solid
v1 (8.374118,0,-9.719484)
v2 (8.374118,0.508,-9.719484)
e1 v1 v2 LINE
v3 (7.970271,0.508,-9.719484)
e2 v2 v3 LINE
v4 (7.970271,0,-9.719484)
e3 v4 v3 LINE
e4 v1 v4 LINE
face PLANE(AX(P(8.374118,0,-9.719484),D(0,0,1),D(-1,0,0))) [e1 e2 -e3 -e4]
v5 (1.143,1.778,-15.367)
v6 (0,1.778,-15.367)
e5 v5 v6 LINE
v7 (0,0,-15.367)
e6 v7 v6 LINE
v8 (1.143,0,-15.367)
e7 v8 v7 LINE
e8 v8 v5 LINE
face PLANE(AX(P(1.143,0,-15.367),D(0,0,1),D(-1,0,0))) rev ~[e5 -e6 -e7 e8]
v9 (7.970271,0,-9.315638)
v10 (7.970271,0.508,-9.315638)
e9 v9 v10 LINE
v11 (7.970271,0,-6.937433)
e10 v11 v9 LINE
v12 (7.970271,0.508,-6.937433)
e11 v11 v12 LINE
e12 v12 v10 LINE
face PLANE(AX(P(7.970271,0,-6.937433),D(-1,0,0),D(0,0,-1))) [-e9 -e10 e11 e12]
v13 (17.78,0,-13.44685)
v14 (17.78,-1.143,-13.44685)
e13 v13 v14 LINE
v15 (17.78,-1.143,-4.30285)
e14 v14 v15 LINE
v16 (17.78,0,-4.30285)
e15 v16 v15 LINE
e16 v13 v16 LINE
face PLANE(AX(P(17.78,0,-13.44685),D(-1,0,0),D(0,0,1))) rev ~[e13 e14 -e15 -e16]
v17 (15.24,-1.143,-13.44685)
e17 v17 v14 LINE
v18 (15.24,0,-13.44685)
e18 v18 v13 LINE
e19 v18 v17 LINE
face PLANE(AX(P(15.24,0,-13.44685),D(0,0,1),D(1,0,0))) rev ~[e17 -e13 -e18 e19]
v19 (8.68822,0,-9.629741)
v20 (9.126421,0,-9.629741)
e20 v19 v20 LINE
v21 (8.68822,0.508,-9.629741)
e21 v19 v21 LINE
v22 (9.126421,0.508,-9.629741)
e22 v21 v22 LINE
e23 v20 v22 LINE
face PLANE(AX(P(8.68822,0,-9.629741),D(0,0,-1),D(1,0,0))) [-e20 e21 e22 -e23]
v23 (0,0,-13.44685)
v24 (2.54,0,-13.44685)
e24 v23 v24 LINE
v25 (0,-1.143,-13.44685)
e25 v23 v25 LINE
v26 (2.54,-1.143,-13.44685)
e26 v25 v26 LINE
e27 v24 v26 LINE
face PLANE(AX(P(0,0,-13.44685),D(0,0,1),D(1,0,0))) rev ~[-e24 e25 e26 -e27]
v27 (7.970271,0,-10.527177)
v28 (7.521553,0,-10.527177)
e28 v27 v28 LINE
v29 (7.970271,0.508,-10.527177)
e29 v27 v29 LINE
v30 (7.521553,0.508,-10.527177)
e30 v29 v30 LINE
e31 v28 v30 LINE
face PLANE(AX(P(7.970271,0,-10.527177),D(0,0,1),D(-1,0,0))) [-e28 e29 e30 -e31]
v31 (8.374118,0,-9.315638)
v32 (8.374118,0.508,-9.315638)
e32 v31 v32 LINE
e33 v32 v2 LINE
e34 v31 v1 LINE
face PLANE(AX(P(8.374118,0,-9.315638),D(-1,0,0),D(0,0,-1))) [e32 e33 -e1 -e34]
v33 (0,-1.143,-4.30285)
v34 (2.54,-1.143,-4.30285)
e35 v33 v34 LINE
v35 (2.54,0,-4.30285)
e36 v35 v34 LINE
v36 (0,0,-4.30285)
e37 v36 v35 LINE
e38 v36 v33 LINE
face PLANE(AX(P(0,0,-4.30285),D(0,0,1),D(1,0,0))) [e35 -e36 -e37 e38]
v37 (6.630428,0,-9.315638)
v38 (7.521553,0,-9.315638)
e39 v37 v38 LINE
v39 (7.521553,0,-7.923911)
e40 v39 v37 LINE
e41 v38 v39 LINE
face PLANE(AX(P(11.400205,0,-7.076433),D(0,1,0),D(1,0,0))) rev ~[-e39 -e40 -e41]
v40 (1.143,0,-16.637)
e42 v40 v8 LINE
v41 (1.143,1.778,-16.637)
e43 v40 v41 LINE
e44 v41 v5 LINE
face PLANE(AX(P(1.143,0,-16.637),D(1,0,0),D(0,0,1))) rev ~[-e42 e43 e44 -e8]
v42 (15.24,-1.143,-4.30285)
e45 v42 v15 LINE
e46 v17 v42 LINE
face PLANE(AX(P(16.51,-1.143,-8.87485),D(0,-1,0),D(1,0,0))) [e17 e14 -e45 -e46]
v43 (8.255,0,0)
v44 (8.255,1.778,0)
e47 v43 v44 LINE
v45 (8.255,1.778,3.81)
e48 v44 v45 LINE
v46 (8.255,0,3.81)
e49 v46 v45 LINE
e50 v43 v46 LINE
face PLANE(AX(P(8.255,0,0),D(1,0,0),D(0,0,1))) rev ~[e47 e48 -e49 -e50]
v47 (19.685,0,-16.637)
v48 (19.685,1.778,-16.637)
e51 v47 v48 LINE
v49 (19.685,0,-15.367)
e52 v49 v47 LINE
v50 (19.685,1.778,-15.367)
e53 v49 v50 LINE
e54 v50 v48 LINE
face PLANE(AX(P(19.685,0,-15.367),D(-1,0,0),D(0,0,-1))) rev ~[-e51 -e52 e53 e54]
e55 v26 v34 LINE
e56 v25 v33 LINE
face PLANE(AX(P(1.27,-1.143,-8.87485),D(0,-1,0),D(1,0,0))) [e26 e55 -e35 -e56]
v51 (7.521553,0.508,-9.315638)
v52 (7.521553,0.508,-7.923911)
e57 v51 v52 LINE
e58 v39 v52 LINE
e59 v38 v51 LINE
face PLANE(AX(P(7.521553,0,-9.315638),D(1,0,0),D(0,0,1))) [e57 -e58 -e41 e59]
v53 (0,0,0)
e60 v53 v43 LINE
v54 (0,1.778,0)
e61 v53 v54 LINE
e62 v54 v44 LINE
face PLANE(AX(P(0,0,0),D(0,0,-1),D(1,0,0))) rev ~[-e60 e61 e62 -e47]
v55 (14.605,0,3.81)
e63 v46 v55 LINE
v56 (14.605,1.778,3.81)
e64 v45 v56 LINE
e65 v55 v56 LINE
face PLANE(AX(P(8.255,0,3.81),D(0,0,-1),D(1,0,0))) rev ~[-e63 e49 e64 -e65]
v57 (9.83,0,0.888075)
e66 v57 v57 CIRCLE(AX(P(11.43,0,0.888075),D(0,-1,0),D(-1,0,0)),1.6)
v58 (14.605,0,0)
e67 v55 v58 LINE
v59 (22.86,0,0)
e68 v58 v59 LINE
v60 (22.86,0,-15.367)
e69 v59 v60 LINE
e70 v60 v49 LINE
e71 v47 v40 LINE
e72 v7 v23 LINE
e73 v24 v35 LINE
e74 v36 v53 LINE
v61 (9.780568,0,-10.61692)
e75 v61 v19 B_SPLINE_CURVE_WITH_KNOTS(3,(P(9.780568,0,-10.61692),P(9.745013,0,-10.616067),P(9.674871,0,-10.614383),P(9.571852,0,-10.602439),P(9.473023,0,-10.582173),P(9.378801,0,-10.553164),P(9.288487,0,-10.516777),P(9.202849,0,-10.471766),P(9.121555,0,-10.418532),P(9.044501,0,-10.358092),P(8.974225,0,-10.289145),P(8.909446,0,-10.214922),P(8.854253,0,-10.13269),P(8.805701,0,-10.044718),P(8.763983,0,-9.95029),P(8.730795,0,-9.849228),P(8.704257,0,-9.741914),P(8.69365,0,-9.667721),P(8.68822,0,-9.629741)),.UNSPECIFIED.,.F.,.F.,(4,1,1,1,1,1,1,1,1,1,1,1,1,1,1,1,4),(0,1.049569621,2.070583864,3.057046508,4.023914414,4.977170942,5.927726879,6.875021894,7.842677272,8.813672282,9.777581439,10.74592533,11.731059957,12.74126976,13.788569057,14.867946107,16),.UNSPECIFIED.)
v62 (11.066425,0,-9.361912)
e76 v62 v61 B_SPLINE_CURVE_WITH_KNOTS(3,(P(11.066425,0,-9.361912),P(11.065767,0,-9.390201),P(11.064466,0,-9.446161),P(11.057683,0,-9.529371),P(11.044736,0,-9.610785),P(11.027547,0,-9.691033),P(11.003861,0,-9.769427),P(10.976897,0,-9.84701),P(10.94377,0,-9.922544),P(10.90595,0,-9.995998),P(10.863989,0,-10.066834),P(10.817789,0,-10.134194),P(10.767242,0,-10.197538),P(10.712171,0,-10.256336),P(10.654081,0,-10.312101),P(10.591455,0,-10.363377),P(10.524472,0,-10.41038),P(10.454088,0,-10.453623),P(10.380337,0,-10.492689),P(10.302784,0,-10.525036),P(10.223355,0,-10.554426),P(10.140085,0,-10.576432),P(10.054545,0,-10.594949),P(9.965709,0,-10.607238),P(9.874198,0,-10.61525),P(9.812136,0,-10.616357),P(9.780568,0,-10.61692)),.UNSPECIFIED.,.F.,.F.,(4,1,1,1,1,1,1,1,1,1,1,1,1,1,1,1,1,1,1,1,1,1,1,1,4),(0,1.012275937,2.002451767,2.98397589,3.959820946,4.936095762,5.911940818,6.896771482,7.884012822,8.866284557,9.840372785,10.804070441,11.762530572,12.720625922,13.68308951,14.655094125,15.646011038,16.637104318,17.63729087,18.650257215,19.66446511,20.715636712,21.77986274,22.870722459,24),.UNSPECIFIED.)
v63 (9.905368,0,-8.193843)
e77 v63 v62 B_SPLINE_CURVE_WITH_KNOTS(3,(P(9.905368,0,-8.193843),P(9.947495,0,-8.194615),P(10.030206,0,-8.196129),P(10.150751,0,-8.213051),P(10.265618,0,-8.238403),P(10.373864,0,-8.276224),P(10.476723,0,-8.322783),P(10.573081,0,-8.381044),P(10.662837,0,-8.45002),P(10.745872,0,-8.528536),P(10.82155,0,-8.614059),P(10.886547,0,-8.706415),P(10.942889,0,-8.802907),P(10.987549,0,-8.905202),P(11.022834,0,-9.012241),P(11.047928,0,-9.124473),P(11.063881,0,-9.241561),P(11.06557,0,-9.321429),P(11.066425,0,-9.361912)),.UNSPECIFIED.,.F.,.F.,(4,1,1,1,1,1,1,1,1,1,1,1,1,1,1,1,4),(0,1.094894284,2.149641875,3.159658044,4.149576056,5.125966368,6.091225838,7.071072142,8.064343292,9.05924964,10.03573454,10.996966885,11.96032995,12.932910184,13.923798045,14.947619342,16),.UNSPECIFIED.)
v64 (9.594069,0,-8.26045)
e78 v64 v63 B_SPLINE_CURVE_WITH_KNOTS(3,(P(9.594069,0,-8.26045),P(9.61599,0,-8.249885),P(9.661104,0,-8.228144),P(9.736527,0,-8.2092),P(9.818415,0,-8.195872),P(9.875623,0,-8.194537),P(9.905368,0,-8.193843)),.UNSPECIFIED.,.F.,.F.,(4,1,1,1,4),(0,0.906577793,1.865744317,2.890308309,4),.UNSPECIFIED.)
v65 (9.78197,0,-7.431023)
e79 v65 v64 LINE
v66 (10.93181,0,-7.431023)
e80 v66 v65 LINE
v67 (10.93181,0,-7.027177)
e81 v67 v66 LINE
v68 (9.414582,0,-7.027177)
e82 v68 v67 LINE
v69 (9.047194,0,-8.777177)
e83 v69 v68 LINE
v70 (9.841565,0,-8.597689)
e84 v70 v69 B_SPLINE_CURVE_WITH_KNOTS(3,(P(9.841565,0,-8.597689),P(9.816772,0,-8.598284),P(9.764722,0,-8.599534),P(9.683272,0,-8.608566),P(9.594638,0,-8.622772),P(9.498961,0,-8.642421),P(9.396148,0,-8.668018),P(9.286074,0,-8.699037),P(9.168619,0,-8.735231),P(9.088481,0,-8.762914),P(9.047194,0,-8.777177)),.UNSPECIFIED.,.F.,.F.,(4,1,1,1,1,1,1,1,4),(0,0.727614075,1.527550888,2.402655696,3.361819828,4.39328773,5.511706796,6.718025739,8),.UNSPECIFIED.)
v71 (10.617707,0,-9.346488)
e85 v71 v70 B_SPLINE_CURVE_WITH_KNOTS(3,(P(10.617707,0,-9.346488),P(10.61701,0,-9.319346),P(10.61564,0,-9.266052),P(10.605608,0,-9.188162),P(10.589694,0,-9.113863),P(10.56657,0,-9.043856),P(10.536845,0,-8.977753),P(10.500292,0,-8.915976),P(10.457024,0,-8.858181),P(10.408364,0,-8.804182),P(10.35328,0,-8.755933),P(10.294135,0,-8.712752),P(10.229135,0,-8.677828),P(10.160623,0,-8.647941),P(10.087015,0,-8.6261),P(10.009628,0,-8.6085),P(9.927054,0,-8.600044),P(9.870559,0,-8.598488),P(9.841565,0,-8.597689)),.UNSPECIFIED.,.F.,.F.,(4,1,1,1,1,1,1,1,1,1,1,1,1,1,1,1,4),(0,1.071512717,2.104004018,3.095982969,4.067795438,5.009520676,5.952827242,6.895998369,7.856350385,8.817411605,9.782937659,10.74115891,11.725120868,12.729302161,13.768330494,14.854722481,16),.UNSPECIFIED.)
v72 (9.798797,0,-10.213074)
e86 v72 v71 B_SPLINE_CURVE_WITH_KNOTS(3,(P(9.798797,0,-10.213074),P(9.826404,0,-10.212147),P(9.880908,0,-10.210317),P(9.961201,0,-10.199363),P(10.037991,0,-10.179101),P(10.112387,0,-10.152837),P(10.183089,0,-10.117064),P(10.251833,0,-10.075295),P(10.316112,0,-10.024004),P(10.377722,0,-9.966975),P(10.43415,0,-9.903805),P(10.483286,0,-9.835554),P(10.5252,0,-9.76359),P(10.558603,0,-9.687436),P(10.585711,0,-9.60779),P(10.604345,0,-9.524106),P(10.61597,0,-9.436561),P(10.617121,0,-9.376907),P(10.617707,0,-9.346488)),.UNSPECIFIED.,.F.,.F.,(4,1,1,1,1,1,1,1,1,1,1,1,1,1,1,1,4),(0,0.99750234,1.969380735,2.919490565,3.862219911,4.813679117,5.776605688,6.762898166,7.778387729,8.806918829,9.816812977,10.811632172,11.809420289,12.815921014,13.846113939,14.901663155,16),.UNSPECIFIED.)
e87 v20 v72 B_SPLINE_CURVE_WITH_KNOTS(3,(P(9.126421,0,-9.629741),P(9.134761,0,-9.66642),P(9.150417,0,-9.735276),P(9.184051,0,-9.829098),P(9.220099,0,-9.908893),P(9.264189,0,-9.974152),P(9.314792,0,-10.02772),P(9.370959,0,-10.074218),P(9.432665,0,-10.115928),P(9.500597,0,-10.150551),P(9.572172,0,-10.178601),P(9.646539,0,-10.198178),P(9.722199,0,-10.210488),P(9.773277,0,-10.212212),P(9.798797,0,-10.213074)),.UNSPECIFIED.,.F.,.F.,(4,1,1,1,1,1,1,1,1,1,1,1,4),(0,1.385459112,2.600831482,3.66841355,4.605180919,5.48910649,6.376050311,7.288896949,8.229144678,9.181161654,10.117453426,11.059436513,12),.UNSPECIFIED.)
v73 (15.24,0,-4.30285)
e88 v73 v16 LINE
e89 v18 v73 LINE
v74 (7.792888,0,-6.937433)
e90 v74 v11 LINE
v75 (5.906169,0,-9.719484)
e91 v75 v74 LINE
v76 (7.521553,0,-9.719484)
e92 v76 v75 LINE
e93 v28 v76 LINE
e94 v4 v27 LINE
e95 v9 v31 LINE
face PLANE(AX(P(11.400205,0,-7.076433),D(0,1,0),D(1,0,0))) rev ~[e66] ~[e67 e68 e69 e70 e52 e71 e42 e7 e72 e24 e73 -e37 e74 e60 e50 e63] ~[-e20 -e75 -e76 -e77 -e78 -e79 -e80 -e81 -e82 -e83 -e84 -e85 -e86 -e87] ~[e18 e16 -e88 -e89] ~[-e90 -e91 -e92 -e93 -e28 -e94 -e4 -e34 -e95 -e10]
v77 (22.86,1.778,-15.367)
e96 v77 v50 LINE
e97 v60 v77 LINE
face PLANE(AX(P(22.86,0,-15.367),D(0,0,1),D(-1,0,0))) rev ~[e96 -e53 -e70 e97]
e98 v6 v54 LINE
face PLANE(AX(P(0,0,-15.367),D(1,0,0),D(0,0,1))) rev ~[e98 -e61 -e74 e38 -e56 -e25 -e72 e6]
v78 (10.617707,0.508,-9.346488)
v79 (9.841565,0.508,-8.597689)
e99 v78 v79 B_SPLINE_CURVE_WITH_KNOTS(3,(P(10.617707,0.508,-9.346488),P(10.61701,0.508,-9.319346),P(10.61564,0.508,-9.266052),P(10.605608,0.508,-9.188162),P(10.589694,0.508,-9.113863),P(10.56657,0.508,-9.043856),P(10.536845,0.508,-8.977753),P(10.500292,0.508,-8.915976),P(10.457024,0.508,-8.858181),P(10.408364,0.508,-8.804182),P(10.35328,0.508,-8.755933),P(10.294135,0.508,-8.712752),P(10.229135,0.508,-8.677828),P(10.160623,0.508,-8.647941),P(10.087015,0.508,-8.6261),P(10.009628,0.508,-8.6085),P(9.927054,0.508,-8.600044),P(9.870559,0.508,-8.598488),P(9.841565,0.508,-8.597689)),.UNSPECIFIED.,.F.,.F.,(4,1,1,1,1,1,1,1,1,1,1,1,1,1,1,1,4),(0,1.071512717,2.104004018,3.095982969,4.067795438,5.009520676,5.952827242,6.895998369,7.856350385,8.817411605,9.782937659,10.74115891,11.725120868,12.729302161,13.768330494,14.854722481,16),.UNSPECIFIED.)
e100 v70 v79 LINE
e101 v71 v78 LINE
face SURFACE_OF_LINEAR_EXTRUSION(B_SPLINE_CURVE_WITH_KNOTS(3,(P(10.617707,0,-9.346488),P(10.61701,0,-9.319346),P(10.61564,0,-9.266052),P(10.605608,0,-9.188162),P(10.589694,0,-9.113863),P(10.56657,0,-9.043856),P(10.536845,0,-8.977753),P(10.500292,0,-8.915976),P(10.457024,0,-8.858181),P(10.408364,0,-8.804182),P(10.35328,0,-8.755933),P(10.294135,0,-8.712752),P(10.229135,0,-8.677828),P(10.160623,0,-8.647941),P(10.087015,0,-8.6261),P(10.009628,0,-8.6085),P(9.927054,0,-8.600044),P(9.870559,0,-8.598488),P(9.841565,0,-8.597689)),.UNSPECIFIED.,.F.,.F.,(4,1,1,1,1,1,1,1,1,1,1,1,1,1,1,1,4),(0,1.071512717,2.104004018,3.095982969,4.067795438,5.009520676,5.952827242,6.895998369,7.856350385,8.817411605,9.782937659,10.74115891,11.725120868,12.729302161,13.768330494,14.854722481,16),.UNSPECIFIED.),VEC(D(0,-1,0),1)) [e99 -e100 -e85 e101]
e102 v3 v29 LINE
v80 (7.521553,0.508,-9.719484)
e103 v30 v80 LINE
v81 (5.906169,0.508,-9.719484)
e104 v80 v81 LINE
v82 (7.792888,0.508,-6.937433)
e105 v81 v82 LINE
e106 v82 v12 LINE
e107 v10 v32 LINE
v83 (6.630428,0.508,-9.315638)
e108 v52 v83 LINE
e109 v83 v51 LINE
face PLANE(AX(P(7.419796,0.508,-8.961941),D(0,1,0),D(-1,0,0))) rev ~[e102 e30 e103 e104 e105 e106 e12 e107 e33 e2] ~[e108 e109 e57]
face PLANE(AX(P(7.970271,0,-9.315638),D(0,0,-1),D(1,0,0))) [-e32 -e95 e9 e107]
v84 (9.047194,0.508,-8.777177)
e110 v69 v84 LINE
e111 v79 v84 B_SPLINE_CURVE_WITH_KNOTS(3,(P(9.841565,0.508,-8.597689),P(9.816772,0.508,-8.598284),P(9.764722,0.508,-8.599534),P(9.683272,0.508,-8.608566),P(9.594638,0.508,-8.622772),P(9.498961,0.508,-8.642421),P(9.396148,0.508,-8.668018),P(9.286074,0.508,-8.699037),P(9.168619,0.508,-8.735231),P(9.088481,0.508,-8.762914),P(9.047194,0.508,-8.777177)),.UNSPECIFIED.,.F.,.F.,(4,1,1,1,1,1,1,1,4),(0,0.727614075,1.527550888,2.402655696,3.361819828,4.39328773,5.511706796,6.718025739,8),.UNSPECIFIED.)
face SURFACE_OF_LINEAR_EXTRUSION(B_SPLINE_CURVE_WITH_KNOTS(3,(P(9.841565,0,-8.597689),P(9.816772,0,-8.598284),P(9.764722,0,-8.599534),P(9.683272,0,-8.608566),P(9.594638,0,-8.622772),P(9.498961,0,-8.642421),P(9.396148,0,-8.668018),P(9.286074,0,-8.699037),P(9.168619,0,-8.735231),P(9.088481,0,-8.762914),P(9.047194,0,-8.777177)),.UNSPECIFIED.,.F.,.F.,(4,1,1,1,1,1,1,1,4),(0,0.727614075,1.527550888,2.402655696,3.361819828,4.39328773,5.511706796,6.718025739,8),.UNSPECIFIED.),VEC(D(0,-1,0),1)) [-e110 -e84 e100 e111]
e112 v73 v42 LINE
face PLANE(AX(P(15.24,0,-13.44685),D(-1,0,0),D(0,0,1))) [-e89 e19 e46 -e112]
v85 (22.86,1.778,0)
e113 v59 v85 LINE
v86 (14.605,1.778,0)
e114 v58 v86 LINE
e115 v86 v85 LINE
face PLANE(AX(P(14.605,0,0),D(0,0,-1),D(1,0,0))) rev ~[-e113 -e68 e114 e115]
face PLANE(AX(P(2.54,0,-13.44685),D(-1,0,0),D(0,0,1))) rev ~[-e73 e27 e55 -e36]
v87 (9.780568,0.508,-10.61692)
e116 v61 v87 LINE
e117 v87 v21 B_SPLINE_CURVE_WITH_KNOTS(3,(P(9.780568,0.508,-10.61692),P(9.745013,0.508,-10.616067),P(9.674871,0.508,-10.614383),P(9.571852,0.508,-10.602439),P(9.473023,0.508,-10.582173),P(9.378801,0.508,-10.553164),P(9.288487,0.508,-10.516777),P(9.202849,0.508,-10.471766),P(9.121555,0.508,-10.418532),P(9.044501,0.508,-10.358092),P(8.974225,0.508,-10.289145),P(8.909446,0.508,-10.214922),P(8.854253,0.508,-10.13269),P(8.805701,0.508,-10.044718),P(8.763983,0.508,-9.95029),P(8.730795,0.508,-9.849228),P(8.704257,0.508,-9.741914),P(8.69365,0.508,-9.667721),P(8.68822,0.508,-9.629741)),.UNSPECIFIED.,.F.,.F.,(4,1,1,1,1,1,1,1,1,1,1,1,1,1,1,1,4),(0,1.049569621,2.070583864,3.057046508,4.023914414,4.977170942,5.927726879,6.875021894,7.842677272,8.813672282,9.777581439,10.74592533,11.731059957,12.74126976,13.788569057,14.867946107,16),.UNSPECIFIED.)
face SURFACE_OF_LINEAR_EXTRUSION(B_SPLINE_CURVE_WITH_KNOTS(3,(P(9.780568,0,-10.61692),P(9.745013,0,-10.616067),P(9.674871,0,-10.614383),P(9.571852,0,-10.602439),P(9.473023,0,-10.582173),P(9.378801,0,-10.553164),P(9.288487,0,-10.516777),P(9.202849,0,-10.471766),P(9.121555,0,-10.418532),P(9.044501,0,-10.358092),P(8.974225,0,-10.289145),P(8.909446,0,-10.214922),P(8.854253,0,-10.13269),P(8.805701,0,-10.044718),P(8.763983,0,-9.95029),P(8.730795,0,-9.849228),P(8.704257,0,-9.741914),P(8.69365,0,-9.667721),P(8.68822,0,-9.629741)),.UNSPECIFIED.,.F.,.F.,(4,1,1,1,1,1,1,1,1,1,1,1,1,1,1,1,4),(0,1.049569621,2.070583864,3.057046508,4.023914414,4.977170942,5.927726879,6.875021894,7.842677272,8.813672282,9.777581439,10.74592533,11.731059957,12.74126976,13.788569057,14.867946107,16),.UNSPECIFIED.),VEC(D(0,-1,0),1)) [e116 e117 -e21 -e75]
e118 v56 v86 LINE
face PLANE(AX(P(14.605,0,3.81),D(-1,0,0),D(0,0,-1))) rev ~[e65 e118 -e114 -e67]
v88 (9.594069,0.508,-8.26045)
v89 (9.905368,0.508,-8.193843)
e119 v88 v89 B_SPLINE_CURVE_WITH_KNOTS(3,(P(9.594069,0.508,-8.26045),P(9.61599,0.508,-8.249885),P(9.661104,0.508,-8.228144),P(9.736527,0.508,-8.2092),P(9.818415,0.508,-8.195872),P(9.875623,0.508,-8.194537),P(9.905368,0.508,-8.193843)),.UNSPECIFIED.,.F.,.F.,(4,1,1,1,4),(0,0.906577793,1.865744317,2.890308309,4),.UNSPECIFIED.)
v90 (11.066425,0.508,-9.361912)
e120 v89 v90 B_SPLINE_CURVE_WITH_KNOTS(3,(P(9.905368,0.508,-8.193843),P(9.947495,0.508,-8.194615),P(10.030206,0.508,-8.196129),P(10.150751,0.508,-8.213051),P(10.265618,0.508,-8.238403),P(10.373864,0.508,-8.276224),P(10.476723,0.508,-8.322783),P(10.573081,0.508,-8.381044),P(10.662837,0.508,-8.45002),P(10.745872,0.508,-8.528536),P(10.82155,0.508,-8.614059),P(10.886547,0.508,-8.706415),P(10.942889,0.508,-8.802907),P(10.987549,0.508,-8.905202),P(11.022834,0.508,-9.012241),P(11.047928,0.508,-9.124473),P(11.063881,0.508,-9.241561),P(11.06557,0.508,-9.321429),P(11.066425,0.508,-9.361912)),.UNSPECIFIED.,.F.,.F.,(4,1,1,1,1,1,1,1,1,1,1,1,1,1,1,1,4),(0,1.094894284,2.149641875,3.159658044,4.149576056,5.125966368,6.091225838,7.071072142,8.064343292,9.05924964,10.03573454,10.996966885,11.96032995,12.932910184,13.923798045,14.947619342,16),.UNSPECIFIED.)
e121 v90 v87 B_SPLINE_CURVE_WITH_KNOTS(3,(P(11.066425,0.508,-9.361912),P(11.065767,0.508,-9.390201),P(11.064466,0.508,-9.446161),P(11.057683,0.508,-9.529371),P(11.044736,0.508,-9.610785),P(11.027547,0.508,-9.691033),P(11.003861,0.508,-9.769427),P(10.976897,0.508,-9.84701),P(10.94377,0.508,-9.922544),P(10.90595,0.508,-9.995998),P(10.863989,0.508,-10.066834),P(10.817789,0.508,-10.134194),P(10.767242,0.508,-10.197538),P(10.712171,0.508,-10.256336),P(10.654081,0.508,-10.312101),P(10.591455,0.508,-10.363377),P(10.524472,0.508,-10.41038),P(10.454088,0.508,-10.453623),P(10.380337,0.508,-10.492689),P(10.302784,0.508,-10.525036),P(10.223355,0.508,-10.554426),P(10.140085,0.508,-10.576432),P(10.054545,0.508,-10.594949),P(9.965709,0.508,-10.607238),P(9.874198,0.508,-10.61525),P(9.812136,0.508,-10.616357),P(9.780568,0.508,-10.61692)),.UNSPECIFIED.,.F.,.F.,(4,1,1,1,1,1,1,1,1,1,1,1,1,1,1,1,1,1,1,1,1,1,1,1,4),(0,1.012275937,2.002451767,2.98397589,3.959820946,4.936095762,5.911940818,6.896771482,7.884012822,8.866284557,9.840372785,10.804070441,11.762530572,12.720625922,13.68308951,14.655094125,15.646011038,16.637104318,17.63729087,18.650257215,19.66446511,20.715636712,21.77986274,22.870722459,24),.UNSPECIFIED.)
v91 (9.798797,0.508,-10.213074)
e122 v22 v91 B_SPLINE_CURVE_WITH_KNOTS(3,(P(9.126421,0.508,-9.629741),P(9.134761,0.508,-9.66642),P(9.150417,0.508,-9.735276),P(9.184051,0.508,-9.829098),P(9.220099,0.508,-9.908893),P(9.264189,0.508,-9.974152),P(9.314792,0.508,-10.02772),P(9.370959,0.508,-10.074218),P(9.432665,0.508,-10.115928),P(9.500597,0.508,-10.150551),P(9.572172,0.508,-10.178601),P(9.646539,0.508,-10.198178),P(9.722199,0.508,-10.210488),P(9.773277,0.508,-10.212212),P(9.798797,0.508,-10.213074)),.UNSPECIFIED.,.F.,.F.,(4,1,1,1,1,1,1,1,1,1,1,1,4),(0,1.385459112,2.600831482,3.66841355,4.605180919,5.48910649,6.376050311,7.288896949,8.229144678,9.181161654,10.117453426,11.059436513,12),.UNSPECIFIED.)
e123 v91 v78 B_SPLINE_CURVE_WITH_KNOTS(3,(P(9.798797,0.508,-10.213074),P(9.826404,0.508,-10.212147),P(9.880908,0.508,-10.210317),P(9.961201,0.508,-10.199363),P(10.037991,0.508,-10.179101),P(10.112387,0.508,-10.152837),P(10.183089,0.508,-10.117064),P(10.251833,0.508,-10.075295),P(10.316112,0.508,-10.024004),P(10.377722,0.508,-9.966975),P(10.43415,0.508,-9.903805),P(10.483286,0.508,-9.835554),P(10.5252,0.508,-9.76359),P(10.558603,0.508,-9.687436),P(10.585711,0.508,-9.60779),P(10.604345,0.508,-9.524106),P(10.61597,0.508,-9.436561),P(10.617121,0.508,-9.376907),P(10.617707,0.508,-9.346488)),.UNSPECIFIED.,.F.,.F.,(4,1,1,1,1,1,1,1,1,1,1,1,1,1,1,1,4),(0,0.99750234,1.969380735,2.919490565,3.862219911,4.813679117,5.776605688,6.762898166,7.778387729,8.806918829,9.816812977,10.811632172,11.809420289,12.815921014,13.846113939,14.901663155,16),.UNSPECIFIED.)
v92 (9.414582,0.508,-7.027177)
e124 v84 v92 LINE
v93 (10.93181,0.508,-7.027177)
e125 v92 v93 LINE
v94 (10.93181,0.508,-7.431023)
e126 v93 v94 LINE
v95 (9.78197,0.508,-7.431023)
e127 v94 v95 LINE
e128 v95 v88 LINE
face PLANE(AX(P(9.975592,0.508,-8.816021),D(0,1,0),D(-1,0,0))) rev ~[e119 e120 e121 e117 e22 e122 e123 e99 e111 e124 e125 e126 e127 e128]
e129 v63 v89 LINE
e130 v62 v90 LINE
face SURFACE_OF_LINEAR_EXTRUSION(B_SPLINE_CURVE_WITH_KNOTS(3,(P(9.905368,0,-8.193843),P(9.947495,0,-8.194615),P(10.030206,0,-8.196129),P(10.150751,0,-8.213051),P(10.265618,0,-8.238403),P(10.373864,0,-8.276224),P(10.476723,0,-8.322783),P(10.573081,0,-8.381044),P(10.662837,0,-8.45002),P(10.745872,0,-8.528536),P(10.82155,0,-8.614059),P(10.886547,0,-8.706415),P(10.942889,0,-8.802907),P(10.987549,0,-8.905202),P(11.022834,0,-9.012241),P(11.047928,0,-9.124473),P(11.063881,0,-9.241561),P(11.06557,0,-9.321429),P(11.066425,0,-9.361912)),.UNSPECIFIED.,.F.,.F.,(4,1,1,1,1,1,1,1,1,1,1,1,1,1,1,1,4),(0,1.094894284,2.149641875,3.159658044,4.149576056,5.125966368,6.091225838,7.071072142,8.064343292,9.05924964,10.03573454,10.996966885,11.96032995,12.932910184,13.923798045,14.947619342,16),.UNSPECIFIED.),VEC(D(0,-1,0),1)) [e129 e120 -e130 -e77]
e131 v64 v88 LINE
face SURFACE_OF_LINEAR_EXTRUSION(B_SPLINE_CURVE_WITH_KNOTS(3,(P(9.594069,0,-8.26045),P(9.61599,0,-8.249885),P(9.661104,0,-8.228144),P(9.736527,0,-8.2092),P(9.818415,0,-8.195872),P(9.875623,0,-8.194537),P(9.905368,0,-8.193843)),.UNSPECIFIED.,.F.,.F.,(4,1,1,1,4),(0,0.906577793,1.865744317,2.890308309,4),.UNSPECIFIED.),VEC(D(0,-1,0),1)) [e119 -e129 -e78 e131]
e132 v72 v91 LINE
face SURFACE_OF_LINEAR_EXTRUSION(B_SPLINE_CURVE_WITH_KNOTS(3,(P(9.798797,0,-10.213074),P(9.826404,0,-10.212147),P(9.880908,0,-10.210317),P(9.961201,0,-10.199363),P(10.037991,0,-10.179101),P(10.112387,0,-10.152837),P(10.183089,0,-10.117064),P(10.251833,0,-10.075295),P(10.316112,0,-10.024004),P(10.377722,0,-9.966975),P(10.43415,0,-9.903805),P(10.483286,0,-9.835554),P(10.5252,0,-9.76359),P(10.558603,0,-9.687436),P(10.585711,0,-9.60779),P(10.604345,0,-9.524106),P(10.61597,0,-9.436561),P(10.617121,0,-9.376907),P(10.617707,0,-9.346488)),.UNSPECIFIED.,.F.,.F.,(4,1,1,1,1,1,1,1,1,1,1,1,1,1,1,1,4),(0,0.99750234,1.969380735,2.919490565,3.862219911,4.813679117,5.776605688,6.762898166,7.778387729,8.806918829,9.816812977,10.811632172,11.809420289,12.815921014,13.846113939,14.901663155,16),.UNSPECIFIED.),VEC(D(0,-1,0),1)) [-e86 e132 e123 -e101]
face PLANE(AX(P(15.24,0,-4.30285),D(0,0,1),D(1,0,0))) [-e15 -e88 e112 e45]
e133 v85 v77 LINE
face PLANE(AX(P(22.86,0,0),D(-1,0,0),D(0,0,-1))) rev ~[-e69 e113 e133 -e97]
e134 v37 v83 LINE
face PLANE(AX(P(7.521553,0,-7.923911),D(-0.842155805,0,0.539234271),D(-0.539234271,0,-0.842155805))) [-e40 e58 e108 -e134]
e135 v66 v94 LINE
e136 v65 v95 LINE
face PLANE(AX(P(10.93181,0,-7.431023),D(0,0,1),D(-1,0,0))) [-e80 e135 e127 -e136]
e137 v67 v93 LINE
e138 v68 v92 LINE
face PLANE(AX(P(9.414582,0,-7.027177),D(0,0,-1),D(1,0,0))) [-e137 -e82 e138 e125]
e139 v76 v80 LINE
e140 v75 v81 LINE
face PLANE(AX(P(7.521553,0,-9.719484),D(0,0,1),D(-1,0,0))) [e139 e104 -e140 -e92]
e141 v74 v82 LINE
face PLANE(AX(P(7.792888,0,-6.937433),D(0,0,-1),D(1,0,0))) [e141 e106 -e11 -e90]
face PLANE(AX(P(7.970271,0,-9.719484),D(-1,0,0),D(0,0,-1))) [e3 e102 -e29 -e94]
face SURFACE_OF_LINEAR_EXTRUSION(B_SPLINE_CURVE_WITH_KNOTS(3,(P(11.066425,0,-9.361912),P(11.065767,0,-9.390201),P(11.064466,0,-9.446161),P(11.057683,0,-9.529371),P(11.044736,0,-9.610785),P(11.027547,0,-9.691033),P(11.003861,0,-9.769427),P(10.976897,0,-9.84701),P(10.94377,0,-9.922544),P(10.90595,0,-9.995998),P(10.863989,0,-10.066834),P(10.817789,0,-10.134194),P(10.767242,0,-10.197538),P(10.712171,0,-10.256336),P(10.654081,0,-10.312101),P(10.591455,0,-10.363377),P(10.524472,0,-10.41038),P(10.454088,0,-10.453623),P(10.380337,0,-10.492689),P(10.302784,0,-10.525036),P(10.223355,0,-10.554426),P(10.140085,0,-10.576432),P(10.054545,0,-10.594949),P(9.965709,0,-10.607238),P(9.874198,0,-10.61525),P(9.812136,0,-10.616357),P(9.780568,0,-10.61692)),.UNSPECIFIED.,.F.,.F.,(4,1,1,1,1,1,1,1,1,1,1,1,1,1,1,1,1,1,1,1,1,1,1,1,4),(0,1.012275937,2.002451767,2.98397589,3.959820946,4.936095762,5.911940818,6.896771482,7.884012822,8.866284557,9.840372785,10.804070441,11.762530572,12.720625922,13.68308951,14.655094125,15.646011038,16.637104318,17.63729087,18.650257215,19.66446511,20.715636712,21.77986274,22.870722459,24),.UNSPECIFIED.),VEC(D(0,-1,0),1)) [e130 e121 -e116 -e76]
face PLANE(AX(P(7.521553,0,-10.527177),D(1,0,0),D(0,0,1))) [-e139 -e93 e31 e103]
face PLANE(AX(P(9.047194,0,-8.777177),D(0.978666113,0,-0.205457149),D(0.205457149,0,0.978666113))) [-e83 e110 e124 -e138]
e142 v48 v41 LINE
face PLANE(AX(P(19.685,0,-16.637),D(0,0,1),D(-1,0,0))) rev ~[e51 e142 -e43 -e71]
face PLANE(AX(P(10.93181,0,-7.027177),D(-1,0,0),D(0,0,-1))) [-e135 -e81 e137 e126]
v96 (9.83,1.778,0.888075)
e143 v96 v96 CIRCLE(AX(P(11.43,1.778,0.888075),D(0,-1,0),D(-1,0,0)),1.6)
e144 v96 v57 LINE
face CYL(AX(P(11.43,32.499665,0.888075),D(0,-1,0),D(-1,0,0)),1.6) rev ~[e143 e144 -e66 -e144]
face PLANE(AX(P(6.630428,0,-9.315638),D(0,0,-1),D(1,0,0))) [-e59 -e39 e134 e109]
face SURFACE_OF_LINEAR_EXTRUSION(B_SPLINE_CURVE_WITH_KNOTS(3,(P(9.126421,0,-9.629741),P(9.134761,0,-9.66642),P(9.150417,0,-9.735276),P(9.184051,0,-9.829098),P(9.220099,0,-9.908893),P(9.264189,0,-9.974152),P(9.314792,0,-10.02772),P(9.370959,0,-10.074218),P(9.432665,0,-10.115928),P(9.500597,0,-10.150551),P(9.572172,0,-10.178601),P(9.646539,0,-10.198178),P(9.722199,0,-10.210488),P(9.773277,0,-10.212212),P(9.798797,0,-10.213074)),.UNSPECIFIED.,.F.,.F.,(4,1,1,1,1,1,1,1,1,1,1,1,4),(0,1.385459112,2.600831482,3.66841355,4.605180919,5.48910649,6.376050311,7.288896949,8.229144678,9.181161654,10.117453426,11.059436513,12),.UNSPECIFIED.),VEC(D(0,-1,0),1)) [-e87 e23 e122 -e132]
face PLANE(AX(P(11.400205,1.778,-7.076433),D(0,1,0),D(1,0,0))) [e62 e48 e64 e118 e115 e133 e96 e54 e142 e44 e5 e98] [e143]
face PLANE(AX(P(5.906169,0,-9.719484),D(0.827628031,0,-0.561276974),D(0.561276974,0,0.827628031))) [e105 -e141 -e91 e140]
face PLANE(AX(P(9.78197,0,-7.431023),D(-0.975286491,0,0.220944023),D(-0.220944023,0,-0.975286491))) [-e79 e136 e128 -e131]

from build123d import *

# Parameters (mm, degrees)
BOSS_EXTRUDE1_DEPTH  = 1.778
M3_CLEARANCE_HOLE1_D = 3.2
SKETCH4_W            = 2.54
SKETCH4_H            = 9.144
BOSS_EXTRUDE2_DEPTH  = 1.143
CUT_EXTRUDE1_DEPTH   = 0.508


with BuildPart() as part:
    # Sketch1 → Boss-Extrude1 (new body)
    with BuildSketch(Plane(origin=(0, 0, 0), x_dir=(1, 0, 0), z_dir=(0, 1, 0))):
        Polygon((0, 15.367), (0, 0), (8.255, 0), (8.255, -3.81), (14.605, -3.81), (14.605, 0), (22.86, 0), (22.86, 15.367), (19.685, 15.367), (19.685, 16.637), (1.143, 16.637), (1.143, 15.367), align=None)
    extrude(amount=BOSS_EXTRUDE1_DEPTH)

    # M3 Clearance Hole1 (through all)
    with Locations(Plane(origin=(0, 1.778, 0), x_dir=(1, 0, 0), z_dir=(0, 1, 0))):
        with Locations((11.43, -0.888075369)):
            Hole(M3_CLEARANCE_HOLE1_D / 2)

    # Sketch4 → Boss-Extrude2 (add)
    with BuildSketch(Plane.XZ):
        with Locations((16.51, -8.874849992)):
            Rectangle(SKETCH4_W, SKETCH4_H)
        with Locations((1.27, -8.874849992)):
            Rectangle(SKETCH4_W, SKETCH4_H)
    extrude(amount=BOSS_EXTRUDE2_DEPTH)

    # Sketch6 → Cut-Extrude1 (cut)
    # profile 1 of 2: a face of its own
    with BuildSketch(Plane.XZ):
        Polygon((7.792887548, -6.937433067), (7.970271363, -6.937433067), (7.970271363, -9.315638195), (8.374117516, -9.315638195), (8.374117516, -9.719484349), (7.970271363, -9.719484349), (7.970271363, -10.527176657), (7.521553414, -10.527176657), (7.521553414, -9.719484349), (5.906168798, -9.719484349), align=None)
        Polygon((7.521553414, -9.315638195), (7.521553414, -7.923911433), (6.630427613, -9.315638195), align=None, mode=Mode.SUBTRACT)
    # profile 2 of 2: a face of its own
    with BuildSketch(Plane.XZ):
        with BuildLine():
            Line((10.931809824, -7.027176657), (10.931809824, -7.431022811))
            Line((10.931809824, -7.431022811), (9.78197008, -7.431022811))
            Line((9.78197008, -7.431022811), (9.594069439, -8.260449894))
            add(Edge.make_bspline(
                [(9.594069439, -8.260449894), (9.615990404, -8.249885481), (9.661103923, -8.228143835), (9.736526874, -8.209200238), (9.818414717, -8.195871542), (9.875622645, -8.194537138), (9.905367516, -8.193843324)],
                knots=[0, 0, 0, 0, 0.906577793, 1.865744317, 2.890308309, 4, 4, 4, 4], degree=3))
            add(Edge.make_bspline(
                [(9.905367516, -8.193843324), (9.947495326, -8.194614643), (10.030206236, -8.196129001), (10.150750761, -8.213051384), (10.265618253, -8.23840338), (10.373863762, -8.27622385), (10.476723422, -8.322782641), (10.573081318, -8.381044204), (10.66283737, -8.450020231), (10.745871527, -8.528536241), (10.821549898, -8.614059011), (10.886547349, -8.706415291), (10.942889062, -8.802907042), (10.98754851, -8.905201736), (11.022834099, -9.012241242), (11.047928323, -9.124472926), (11.063881421, -9.241560513), (11.065569539, -9.321428782), (11.066425209, -9.361912234)],
                knots=[0, 0, 0, 0, 1.094894284, 2.149641875, 3.159658044, 4.149576056, 5.125966368, 6.091225838, 7.071072142, 8.064343292, 9.05924964, 10.03573454, 10.996966885, 11.96032995, 12.932910184, 13.923798045, 14.947619342, 16, 16, 16, 16], degree=3))
            add(Edge.make_bspline(
                [(11.066425209, -9.361912234), (11.06576722, -9.390201132), (11.064465608, -9.446161323), (11.057683043, -9.529370503), (11.044736374, -9.610784817), (11.027546624, -9.691033112), (11.003860501, -9.769427433), (10.97689686, -9.84701), (10.943769877, -9.922543999), (10.905950095, -9.995997939), (10.863989349, -10.066834257), (10.817788624, -10.134193652), (10.767242359, -10.197537594), (10.712171199, -10.256335904), (10.654080504, -10.312100821), (10.59145493, -10.363376929), (10.524472443, -10.410379599), (10.454088485, -10.453622636), (10.380336705, -10.492689435), (10.302783653, -10.525035952), (10.223354637, -10.554425694), (10.140085205, -10.576431812), (10.054545441, -10.594949081), (9.965708783, -10.607237727), (9.874197953, -10.615249641), (9.812135855, -10.616356991), (9.780567837, -10.616920247)],
                knots=[0, 0, 0, 0, 1.012275937, 2.002451767, 2.98397589, 3.959820946, 4.936095762, 5.911940818, 6.896771482, 7.884012822, 8.866284557, 9.840372785, 10.804070441, 11.762530572, 12.720625922, 13.68308951, 14.655094125, 15.646011038, 16.637104318, 17.63729087, 18.650257215, 19.66446511, 20.715636712, 21.77986274, 22.870722459, 24, 24, 24, 24], degree=3))
            add(Edge.make_bspline(
                [(9.780567837, -10.616920247), (9.74501295, -10.616066651), (9.67487051, -10.614382685), (9.571851951, -10.602438699), (9.473022547, -10.582173288), (9.378801083, -10.553163592), (9.288486547, -10.516777369), (9.202848927, -10.471765507), (9.121555434, -10.418531983), (9.044501382, -10.358091639), (8.974225046, -10.289145312), (8.909445749, -10.214922365), (8.854253251, -10.132690105), (8.805700589, -10.044717841), (8.763983147, -9.950290059), (8.73079481, -9.849227723), (8.704256829, -9.74191356), (8.693649883, -9.66772079), (8.68822008, -9.62974076)],
                knots=[0, 0, 0, 0, 1.049569621, 2.070583864, 3.057046508, 4.023914414, 4.977170942, 5.927726879, 6.875021894, 7.842677272, 8.813672282, 9.777581439, 10.74592533, 11.731059957, 12.74126976, 13.788569057, 14.867946107, 16, 16, 16, 16], degree=3))
            Line((8.68822008, -9.62974076), (9.126421202, -9.62974076))
            add(Edge.make_bspline(
                [(9.126421202, -9.62974076), (9.134761141, -9.66642032), (9.150417161, -9.735276452), (9.184050813, -9.829097607), (9.220098703, -9.908893266), (9.264188523, -9.974152261), (9.314792456, -10.027719829), (9.370959214, -10.074218016), (9.432665368, -10.115927928), (9.500597498, -10.150550709), (9.572171535, -10.17860074), (9.646539379, -10.198177788), (9.722199143, -10.210487725), (9.773277222, -10.212212404), (9.798797004, -10.213074093)],
                knots=[0, 0, 0, 0, 1.385459112, 2.600831482, 3.66841355, 4.605180919, 5.48910649, 6.376050311, 7.288896949, 8.229144678, 9.181161654, 10.117453426, 11.059436513, 12, 12, 12, 12], degree=3))
            add(Edge.make_bspline(
                [(9.798797004, -10.213074093), (9.826403635, -10.212147278), (9.880907737, -10.210317457), (9.9612011, -10.199363174), (10.03799139, -10.179100678), (10.112387313, -10.152836823), (10.183089403, -10.117064359), (10.251833101, -10.075295418), (10.316111719, -10.02400433), (10.377721757, -9.966974677), (10.434150348, -9.903805344), (10.483285658, -9.835553671), (10.525200218, -9.763590176), (10.558602509, -9.687436209), (10.585711354, -9.607789577), (10.60434487, -9.524106273), (10.615970273, -9.436561106), (10.617120647, -9.376907087), (10.61770726, -9.346487554)],
                knots=[0, 0, 0, 0, 0.99750234, 1.969380735, 2.919490565, 3.862219911, 4.813679117, 5.776605688, 6.762898166, 7.778387729, 8.806918829, 9.816812977, 10.811632172, 11.809420289, 12.815921014, 13.846113939, 14.901663155, 16, 16, 16, 16], degree=3))
            add(Edge.make_bspline(
                [(10.61770726, -9.346487554), (10.61700976, -9.319346395), (10.615640161, -9.266052481), (10.605607573, -9.18816159), (10.589693867, -9.113863306), (10.566569889, -9.043856082), (10.536844883, -8.977752547), (10.500292329, -8.915975577), (10.457023625, -8.858181151), (10.408363657, -8.804181975), (10.353279511, -8.755933356), (10.294135331, -8.712751732), (10.2291352, -8.677827545), (10.160623288, -8.647941478), (10.087014842, -8.626099622), (10.009628455, -8.608500045), (9.927054225, -8.6000444), (9.870558601, -8.59848814), (9.841565433, -8.597689477)],
                knots=[0, 0, 0, 0, 1.071512717, 2.104004018, 3.095982969, 4.067795438, 5.009520676, 5.952827242, 6.895998369, 7.856350385, 8.817411605, 9.782937659, 10.74115891, 11.725120868, 12.729302161, 13.768330494, 14.854722481, 16, 16, 16, 16], degree=3))
            add(Edge.make_bspline(
                [(9.841565433, -8.597689477), (9.816772294, -8.598284479), (9.764721648, -8.599533624), (9.683271646, -8.608565862), (9.594637888, -8.622772307), (9.498960529, -8.6424206), (9.396147628, -8.66801835), (9.286074253, -8.699036547), (9.168618604, -8.735231112), (9.088481339, -8.762914245), (9.047194439, -8.777176657)],
                knots=[0, 0, 0, 0, 0.727614075, 1.527550888, 2.402655696, 3.361819828, 4.39328773, 5.511706796, 6.718025739, 8, 8, 8, 8], degree=3))
            Line((9.047194439, -8.777176657), (9.41458226, -7.027176657))
            Line((9.41458226, -7.027176657), (10.931809824, -7.027176657))
        make_face()
    extrude(amount=-CUT_EXTRUDE1_DEPTH, mode=Mode.SUBTRACT)


solid = part.part
